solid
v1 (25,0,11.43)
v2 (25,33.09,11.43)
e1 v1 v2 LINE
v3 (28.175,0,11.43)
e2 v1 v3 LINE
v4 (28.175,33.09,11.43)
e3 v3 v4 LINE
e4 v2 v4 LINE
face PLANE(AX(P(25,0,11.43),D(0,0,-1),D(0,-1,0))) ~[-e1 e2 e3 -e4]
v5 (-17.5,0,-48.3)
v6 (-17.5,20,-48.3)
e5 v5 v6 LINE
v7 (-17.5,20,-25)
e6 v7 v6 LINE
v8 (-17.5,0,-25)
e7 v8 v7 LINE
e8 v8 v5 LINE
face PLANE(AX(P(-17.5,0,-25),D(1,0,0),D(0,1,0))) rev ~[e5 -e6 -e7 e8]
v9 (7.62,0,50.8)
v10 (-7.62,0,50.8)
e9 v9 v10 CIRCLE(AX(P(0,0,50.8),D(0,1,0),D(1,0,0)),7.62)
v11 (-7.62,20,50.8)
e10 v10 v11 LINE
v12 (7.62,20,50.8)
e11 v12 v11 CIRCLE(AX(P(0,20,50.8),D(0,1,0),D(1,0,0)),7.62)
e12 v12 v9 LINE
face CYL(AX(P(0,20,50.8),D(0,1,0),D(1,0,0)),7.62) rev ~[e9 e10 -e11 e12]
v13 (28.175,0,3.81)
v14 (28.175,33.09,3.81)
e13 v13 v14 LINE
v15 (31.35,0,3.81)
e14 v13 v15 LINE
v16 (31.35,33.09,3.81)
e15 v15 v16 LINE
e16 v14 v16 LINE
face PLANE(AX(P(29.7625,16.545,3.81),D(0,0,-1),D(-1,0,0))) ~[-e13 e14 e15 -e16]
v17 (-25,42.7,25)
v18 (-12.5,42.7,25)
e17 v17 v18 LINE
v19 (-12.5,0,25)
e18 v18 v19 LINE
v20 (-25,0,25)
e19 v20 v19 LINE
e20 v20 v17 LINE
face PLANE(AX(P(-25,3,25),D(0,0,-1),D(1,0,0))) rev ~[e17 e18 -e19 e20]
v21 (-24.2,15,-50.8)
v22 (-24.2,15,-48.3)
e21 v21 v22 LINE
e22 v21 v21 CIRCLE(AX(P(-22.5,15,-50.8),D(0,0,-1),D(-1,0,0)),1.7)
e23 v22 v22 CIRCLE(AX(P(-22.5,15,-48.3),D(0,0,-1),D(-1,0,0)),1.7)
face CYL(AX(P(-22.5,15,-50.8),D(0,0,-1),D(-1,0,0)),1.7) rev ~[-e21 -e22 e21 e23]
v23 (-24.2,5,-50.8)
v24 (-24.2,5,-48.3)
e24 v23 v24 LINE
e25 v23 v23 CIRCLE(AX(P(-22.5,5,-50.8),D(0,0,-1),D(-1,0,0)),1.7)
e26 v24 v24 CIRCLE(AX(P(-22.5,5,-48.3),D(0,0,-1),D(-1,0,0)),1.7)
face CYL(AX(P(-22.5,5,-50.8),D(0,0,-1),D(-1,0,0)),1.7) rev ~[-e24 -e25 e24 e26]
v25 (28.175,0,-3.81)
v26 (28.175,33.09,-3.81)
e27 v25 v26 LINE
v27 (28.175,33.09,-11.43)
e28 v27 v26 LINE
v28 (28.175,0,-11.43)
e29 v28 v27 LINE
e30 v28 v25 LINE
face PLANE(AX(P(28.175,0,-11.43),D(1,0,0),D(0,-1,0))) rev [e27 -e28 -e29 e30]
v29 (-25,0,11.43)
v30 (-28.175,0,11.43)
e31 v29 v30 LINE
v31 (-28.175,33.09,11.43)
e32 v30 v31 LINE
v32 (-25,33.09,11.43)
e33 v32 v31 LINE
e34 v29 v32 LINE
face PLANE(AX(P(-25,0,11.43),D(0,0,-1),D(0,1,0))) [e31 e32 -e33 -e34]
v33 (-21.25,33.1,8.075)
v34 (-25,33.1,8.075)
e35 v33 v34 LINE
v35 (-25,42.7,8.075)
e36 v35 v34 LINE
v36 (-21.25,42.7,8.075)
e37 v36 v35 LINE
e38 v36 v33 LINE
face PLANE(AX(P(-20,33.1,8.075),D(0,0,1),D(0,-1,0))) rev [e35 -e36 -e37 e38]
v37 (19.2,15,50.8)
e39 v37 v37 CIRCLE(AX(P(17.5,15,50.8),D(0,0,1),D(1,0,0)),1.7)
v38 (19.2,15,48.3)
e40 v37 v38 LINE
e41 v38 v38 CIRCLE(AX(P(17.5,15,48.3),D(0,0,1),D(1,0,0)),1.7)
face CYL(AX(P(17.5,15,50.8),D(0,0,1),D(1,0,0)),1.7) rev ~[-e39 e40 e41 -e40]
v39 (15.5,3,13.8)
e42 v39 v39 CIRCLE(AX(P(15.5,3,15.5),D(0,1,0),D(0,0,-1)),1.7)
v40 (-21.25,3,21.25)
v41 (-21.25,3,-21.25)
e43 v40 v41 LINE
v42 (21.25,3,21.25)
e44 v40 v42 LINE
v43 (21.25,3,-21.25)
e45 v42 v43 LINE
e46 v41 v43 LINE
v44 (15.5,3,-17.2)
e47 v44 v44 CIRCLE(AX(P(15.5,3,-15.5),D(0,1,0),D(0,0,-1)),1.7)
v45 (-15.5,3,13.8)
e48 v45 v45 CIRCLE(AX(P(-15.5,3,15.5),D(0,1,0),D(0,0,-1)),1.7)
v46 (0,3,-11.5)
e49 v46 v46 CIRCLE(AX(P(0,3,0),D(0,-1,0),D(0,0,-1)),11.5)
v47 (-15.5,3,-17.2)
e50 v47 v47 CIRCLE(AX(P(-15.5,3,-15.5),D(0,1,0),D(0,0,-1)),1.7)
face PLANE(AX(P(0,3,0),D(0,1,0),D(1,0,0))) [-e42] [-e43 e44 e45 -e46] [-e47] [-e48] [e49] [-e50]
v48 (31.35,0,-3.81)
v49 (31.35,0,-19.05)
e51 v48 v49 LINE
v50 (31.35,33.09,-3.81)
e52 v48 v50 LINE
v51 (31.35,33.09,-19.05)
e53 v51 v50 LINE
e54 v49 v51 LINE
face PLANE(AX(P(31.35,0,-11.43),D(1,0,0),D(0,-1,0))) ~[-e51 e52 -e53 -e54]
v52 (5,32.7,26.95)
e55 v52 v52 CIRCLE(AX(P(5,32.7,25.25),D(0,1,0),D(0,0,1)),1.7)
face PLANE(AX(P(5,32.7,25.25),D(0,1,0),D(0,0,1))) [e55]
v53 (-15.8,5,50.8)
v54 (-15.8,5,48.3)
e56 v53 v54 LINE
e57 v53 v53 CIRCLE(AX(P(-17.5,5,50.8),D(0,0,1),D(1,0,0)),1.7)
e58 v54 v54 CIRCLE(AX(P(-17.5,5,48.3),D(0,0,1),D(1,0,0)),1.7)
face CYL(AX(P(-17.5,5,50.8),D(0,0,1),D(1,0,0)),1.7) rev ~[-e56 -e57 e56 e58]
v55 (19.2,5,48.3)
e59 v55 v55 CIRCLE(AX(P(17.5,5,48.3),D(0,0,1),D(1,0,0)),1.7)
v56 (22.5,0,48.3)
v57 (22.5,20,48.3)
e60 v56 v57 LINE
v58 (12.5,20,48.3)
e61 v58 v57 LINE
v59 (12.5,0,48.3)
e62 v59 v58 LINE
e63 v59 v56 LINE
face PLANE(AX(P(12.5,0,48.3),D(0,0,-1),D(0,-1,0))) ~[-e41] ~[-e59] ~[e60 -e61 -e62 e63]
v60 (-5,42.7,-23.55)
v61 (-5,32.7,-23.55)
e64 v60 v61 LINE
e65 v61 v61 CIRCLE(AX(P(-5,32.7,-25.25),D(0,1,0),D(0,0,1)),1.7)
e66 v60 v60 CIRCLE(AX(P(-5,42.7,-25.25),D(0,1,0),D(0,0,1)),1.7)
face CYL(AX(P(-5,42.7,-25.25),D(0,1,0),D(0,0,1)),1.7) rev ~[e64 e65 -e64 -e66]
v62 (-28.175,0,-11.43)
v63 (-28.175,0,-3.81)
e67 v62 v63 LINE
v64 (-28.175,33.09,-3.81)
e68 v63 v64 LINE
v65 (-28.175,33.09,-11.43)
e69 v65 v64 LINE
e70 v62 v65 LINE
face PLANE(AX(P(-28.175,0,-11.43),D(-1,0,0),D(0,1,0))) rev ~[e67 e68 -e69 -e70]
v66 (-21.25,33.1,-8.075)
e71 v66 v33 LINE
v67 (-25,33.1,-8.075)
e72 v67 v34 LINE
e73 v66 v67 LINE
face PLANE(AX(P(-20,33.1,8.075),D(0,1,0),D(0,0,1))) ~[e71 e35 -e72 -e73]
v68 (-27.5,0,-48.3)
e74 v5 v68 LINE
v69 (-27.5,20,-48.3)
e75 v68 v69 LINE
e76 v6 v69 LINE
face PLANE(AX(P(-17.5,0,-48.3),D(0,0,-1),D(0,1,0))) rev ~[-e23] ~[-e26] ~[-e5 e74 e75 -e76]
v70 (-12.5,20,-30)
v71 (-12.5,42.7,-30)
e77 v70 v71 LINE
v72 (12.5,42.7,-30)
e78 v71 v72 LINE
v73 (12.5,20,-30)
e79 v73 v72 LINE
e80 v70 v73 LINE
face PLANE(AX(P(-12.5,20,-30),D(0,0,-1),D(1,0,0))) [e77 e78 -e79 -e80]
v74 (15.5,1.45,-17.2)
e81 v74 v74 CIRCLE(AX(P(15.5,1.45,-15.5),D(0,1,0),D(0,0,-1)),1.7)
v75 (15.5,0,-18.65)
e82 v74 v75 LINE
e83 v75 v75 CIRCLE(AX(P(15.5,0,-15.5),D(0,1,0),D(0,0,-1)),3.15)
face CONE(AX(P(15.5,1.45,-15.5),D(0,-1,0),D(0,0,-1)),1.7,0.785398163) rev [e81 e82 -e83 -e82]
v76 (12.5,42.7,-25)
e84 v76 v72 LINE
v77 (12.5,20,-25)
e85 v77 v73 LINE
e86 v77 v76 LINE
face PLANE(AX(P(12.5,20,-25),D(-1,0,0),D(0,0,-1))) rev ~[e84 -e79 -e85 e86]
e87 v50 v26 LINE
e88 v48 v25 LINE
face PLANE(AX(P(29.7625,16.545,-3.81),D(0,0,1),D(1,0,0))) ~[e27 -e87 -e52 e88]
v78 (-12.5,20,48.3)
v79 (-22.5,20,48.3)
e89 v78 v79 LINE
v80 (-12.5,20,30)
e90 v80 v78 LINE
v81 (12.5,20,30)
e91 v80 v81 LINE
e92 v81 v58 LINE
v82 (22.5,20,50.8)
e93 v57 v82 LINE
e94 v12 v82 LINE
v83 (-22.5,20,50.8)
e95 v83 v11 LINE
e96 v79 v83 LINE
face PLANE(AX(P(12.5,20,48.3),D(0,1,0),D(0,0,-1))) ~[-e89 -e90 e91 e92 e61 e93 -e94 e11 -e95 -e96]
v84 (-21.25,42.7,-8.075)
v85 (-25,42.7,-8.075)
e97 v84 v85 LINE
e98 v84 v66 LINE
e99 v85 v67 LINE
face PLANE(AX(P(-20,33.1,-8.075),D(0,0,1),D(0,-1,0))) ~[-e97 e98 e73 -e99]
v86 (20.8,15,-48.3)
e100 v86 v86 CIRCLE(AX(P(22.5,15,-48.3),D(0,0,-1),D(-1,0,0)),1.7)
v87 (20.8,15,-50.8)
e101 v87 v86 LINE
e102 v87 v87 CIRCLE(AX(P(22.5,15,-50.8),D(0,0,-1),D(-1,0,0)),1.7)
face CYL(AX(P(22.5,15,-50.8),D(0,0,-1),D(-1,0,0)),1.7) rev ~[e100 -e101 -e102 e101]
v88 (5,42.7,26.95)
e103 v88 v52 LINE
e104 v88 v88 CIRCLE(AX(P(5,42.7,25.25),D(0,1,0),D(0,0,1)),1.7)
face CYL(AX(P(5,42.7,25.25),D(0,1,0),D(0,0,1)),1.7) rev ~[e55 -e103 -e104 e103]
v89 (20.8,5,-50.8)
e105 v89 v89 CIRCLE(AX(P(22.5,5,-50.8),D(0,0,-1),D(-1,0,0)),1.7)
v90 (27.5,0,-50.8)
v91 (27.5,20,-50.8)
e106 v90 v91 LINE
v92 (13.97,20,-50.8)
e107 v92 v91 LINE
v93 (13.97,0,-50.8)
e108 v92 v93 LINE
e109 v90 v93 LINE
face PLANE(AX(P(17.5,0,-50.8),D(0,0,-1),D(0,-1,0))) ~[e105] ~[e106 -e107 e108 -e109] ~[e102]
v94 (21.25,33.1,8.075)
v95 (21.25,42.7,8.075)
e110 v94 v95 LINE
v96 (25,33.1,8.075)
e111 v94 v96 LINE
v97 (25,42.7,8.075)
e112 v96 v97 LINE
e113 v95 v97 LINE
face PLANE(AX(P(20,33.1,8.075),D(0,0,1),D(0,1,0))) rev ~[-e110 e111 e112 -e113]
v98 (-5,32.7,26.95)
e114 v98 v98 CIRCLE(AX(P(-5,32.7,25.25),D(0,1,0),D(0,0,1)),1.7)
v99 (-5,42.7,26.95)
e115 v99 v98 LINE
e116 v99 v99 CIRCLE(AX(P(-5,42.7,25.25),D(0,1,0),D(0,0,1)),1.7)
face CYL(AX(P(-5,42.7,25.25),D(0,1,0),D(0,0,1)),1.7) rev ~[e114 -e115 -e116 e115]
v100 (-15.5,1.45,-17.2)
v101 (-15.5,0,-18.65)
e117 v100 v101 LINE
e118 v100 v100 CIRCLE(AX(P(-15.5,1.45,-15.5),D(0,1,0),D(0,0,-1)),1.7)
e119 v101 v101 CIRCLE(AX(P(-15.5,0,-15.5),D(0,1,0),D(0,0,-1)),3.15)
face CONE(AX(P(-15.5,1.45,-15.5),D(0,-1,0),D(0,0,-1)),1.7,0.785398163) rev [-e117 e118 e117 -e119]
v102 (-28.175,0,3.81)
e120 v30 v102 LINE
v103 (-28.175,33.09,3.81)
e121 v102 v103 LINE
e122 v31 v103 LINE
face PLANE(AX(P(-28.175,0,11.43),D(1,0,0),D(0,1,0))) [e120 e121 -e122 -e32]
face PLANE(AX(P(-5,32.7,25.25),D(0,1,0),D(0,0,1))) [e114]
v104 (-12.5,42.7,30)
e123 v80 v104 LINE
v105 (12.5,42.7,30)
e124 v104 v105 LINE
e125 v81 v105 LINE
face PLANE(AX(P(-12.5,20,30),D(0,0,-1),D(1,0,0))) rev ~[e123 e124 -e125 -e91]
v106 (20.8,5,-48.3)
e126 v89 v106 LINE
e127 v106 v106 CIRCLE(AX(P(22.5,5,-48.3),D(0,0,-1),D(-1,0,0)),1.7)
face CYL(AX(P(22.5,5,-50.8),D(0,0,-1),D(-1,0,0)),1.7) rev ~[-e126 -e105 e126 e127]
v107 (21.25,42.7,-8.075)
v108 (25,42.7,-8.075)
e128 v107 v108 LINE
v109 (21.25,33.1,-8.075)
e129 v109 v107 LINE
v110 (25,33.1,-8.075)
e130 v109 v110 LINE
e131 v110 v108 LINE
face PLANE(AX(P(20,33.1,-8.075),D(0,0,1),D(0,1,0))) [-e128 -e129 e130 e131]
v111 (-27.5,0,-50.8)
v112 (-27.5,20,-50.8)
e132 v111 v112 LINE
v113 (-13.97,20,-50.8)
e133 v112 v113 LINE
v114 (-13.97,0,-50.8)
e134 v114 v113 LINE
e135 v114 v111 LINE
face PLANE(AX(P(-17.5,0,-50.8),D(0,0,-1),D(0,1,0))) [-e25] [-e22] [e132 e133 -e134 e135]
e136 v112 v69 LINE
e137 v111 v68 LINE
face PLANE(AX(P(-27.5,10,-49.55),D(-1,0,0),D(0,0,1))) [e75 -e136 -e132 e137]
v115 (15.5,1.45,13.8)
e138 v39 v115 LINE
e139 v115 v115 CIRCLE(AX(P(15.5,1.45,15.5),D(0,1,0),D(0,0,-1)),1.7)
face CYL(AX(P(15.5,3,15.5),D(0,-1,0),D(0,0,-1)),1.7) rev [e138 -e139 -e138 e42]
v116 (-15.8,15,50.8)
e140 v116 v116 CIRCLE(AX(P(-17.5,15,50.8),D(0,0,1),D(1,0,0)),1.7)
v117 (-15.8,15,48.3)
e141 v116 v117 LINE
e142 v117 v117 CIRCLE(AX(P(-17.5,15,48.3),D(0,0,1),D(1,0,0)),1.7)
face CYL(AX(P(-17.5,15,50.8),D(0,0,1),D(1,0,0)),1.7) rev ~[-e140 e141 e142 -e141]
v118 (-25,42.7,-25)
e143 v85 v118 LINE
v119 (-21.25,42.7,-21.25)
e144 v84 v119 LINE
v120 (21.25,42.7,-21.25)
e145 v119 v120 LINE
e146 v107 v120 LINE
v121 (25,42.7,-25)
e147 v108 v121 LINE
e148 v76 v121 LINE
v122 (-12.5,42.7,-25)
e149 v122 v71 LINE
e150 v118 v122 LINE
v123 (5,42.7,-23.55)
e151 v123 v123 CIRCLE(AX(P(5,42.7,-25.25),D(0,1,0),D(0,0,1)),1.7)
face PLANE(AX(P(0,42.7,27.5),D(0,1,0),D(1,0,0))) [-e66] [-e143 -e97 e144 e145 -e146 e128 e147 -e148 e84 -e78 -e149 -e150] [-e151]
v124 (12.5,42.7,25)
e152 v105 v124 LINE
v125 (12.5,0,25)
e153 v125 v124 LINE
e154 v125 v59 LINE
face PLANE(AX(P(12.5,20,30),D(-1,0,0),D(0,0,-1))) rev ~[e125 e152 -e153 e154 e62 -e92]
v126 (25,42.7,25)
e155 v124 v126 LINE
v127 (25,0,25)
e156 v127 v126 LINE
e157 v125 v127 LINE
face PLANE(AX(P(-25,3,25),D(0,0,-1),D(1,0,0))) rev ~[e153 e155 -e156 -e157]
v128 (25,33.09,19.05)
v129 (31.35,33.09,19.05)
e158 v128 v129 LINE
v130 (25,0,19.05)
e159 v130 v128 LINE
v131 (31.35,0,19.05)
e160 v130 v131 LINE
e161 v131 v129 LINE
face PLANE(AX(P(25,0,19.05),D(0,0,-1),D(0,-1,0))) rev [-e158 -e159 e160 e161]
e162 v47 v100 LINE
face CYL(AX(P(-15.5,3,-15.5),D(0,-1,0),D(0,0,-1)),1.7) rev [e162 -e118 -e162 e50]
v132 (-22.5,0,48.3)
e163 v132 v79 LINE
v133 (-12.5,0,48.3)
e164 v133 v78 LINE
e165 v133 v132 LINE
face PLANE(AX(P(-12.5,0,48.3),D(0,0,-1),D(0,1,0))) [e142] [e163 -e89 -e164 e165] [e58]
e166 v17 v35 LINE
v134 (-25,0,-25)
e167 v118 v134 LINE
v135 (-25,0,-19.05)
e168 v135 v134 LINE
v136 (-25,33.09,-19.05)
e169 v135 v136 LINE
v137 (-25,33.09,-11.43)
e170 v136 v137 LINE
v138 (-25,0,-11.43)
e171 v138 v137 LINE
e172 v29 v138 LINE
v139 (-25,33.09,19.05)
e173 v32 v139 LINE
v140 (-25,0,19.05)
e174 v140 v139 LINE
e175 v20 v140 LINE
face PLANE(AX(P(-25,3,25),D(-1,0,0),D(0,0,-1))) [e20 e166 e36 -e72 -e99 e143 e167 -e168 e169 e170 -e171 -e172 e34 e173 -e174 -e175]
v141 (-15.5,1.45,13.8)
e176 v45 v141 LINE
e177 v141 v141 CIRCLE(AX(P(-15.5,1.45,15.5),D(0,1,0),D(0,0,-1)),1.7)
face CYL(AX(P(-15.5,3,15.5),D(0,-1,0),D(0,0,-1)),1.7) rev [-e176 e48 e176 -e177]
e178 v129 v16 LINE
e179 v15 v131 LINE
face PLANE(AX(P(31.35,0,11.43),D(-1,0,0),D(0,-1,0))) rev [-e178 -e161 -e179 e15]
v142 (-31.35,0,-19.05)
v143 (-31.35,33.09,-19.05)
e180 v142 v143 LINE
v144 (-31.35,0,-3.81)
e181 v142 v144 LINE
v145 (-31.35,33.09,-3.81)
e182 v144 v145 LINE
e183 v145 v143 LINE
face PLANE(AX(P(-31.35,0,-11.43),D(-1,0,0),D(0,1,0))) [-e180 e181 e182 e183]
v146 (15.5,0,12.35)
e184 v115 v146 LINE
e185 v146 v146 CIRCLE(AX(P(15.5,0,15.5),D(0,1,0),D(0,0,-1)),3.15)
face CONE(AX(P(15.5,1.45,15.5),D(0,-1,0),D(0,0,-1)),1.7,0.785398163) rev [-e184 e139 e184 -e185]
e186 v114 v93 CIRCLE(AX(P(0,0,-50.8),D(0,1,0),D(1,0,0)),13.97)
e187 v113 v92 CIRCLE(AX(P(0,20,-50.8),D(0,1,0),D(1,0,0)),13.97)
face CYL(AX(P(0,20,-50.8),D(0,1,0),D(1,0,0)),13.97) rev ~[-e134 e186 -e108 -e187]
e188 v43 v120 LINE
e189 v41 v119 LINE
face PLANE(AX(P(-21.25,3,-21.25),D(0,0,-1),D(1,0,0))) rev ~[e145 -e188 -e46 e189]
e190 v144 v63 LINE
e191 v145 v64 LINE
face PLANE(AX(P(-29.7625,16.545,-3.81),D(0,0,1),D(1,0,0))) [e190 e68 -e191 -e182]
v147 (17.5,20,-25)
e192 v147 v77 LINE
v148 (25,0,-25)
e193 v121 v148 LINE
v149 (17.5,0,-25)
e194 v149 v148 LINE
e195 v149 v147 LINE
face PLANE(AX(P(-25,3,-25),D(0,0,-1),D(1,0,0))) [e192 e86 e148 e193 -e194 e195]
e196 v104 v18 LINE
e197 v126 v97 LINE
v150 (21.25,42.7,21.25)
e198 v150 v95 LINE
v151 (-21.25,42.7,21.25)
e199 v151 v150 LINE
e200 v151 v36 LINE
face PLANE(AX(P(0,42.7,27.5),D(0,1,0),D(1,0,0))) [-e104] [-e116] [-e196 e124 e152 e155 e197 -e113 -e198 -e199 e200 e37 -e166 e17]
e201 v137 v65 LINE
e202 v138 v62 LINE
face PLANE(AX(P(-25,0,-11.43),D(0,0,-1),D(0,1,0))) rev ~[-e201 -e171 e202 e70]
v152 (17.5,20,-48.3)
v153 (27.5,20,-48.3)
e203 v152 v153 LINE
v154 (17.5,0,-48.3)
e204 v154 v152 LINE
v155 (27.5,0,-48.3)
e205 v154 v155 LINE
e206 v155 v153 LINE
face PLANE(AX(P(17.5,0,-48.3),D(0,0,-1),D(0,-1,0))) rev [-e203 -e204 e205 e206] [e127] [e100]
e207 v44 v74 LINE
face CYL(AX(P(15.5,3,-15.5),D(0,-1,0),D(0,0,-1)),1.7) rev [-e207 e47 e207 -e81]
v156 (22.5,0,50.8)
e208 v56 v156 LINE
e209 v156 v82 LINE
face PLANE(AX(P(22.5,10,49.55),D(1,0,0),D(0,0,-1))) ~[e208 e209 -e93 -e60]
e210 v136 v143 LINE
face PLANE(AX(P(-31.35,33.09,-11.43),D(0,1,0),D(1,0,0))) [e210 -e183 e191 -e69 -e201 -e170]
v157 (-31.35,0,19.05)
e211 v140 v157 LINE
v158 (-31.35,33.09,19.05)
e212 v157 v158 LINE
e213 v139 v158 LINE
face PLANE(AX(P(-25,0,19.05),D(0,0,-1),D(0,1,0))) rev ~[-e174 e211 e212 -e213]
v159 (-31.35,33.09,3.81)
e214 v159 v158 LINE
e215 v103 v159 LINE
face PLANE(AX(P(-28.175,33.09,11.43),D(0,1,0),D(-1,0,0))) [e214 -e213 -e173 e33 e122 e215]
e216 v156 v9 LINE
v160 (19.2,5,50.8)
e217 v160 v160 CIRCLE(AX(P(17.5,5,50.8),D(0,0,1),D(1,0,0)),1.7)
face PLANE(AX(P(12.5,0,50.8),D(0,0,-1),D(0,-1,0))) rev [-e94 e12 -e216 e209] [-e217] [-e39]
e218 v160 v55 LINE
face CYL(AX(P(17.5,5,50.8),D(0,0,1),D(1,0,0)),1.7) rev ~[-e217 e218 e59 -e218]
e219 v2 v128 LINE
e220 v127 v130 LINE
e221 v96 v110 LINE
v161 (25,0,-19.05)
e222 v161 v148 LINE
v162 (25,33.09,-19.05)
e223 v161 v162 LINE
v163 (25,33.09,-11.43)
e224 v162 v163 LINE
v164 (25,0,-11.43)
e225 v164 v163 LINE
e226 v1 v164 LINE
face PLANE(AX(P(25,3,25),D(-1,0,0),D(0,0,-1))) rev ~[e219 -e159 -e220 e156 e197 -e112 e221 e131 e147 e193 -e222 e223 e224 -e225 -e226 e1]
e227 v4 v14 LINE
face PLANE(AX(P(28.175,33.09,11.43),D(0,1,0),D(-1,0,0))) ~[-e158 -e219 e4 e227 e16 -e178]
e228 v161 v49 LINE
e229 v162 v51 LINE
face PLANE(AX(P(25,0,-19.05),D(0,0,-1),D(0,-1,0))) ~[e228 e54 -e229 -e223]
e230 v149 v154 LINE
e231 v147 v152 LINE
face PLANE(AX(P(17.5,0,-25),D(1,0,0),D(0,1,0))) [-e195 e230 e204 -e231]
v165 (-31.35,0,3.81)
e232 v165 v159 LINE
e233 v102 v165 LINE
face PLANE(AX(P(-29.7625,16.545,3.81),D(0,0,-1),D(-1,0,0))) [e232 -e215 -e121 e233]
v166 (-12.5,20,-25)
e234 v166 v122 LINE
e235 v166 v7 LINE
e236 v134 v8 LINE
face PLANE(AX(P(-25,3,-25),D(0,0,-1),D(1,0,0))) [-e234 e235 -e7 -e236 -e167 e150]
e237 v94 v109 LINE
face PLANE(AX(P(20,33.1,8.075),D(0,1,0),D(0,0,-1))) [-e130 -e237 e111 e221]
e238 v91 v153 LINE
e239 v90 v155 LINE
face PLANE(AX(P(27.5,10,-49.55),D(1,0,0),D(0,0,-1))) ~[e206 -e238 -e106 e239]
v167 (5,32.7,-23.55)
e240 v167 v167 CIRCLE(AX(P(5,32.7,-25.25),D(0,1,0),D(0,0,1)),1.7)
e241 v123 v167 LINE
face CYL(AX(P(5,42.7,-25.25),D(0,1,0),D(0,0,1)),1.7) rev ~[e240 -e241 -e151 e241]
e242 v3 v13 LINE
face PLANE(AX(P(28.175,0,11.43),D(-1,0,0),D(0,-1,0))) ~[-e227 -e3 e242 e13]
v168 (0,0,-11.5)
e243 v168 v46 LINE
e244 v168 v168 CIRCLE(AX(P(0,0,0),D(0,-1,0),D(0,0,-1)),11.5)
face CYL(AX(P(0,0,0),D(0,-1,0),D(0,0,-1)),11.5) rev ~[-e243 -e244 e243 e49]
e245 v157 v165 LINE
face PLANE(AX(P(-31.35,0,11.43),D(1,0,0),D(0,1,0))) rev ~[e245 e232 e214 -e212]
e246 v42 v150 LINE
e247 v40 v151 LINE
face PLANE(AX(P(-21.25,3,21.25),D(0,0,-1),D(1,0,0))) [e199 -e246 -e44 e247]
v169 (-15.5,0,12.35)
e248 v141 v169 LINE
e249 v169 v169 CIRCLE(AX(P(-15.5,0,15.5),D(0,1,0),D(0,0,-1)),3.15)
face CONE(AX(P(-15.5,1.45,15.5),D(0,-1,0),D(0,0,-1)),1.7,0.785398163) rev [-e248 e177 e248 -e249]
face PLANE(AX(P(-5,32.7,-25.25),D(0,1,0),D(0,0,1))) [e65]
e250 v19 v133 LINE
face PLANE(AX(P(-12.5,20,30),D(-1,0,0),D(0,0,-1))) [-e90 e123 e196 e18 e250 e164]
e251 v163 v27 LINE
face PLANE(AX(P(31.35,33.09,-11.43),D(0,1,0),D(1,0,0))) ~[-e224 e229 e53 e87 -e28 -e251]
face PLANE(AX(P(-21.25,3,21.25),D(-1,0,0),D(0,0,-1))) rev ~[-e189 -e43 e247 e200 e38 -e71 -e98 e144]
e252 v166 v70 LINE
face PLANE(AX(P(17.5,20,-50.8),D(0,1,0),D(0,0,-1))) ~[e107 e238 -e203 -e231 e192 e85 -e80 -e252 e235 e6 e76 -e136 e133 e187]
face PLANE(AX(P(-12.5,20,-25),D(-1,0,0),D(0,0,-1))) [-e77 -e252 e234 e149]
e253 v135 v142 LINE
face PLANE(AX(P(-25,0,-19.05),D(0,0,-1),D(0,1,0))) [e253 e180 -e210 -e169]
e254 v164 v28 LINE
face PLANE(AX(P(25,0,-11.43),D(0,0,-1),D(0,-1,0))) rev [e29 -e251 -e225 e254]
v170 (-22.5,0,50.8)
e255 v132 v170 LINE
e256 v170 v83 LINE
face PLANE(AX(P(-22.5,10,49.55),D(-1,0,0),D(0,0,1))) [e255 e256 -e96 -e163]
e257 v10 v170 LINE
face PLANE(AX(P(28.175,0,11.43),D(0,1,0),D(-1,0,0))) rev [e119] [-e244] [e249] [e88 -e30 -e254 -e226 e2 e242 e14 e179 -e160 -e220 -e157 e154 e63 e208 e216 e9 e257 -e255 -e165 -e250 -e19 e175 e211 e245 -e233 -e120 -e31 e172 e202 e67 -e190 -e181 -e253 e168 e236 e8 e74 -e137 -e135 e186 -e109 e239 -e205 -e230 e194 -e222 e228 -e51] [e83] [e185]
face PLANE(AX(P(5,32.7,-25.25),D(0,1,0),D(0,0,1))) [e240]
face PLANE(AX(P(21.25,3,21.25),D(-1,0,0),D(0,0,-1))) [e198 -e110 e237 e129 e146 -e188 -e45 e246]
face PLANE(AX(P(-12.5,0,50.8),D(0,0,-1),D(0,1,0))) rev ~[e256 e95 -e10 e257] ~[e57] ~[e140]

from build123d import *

# Parameters (mm, degrees)
SKETCH1_W                                    = 50
SKETCH1_H                                    = 50
BOSS_EXTRUDE1_DEPTH                          = 3
SKETCH3_W                                    = 50
SKETCH3_H                                    = 50
SKETCH3_W_2                                  = 42.5
SKETCH3_H_2                                  = 42.5
BOSS_EXTRUDE2_DEPTH                          = 39.7
SKETCH9_W                                    = 25
SKETCH9_H                                    = 20
BOSS_EXTRUDE4_DEPTH                          = 25.8
CUT_EXTRUDE1_REACH                           = 62.999
SKETCH11_R                                   = 7.62
SKETCH12_W                                   = 2.5
SKETCH12_H                                   = 20
BOSS_EXTRUDE5_DEPTH                          = 10
CUT_EXTRUDE2_REACH                           = 92.52
SKETCH13_R                                   = 1.7
SKETCH15_W                                   = 35
SKETCH15_H                                   = 20
BOSS_EXTRUDE6_DEPTH                          = 25.8
CUT_EXTRUDE3_REACH                           = 62.999
SKETCH16_R                                   = 13.97
SKETCH17_W                                   = 2.5
SKETCH17_H                                   = 20
BOSS_EXTRUDE7_DEPTH                          = 10
CUT_EXTRUDE4_REACH                           = 115.587
SKETCH18_R                                   = 1.7
CUT_EXTRUDE5_START                           = -5
SKETCH19_W                                   = 16.15
SKETCH19_H                                   = 9.6
CUT_EXTRUDE5_DEPTH                           = 90.617846817
SKETCH20_W                                   = 25
SKETCH20_H                                   = 5
BOSS_EXTRUDE8_DEPTH                          = 22.7
SKETCH21_R                                   = 1.7
CUT_EXTRUDE6_DEPTH                           = 10
SKETCH23_W                                   = 7.62
SKETCH23_H                                   = 33.09
BOSS_EXTRUDE9_DEPTH                          = 6.35
SKETCH24_W                                   = 3.175
SKETCH24_H                                   = 33.09
BOSS_EXTRUDE10_DEPTH                         = 7.62
SKETCH25_W                                   = 3.175
SKETCH25_H                                   = 33.09
BOSS_EXTRUDE11_DEPTH                         = 7.62
CUT_EXTRUDE8_REACH                           = 75.394
SKETCH27_R                                   = 11.5
CSK_FOR_M3_COUNTERSUNK_FLAT_HEAD_SCR_2_COUNT = 2
CSK_FOR_M3_COUNTERSUNK_FLAT_HEAD_SCR_2_PITCH = 31
CSK_FOR_M3_COUNTERSUNK_FLAT_HEAD_SCR_3_COUNT = 2
CSK_FOR_M3_COUNTERSUNK_FLAT_HEAD_SCR_3_PITCH = 43.840620434
CSK_FOR_M3_COUNTERSUNK_FLAT_HEAD_SCR_4_COUNT = 2
CSK_FOR_M3_COUNTERSUNK_FLAT_HEAD_SCR_4_PITCH = 31


with BuildPart() as part:
    # Sketch1 → Boss-Extrude1 (new body)
    with BuildSketch(Plane(origin=(0, 0, 0), x_dir=(1, 0, 0), z_dir=(0, 1, 0))):
        Rectangle(SKETCH1_W, SKETCH1_H)
    extrude(amount=BOSS_EXTRUDE1_DEPTH)

    # Sketch3 → Boss-Extrude2 (add)
    with BuildSketch(Plane(origin=(0, 3, 0), x_dir=(1, 0, 0), z_dir=(0, 1, 0))):
        Rectangle(SKETCH3_W, SKETCH3_H)
        Rectangle(SKETCH3_W_2, SKETCH3_H_2, mode=Mode.SUBTRACT)
    extrude(amount=BOSS_EXTRUDE2_DEPTH)

    # Sketch9 → Boss-Extrude4 (add)
    with BuildSketch(Plane.XY.offset(25)):
        with Locations((0, 10)):
            Rectangle(SKETCH9_W, SKETCH9_H)
    extrude(amount=BOSS_EXTRUDE4_DEPTH)

    # Sketch11 → Cut-Extrude1 (cut, up to next)
    with BuildSketch(Plane(origin=(0, 20, 0), x_dir=(1, 0, 0), z_dir=(0, 1, 0)), mode=Mode.PRIVATE) as cut_extrude1_sk1:
        with Locations((0, -50.8)):
            Circle(SKETCH11_R)
    cut_extrude1_tool1 = extrude(cut_extrude1_sk1.sketch, amount=-CUT_EXTRUDE1_REACH, mode=Mode.PRIVATE) & part.part
    add(cut_extrude1_tool1.solids().sort_by_distance((0, 20, 50.8))[0], mode=Mode.SUBTRACT)

    # Sketch12 → Boss-Extrude5 (add)
    with BuildSketch(Plane.ZY.offset(12.5)):
        with Locations((49.55, 10)):
            Rectangle(SKETCH12_W, SKETCH12_H)
    boss_extrude5 = extrude(amount=BOSS_EXTRUDE5_DEPTH)

    # Mirror2: Boss-Extrude5 across plane
    add(boss_extrude5.mirror(Plane(origin=(0, 0, 0), x_dir=(0, 0, 1), z_dir=(1, 0, 0))))

    # Sketch13 → Cut-Extrude2 (cut, up to next)
    with BuildSketch(Plane.XY.offset(50.8), mode=Mode.PRIVATE) as cut_extrude2_sk1:
        with Locations((-17.5, 5)):
            Circle(SKETCH13_R)
    cut_extrude2_tool1 = extrude(cut_extrude2_sk1.sketch, amount=-CUT_EXTRUDE2_REACH, mode=Mode.PRIVATE) & part.part
    # Sketch13 → Cut-Extrude2 (cut, up to next)
    with BuildSketch(Plane.XY.offset(50.8), mode=Mode.PRIVATE) as cut_extrude2_sk2:
        with Locations((17.5, 5)):
            Circle(SKETCH13_R)
    cut_extrude2_tool2 = extrude(cut_extrude2_sk2.sketch, amount=-CUT_EXTRUDE2_REACH, mode=Mode.PRIVATE) & part.part
    # Sketch13 → Cut-Extrude2 (cut, up to next)
    with BuildSketch(Plane.XY.offset(50.8), mode=Mode.PRIVATE) as cut_extrude2_sk3:
        with Locations((-17.5, 15)):
            Circle(SKETCH13_R)
    cut_extrude2_tool3 = extrude(cut_extrude2_sk3.sketch, amount=-CUT_EXTRUDE2_REACH, mode=Mode.PRIVATE) & part.part
    # Sketch13 → Cut-Extrude2 (cut, up to next)
    with BuildSketch(Plane.XY.offset(50.8), mode=Mode.PRIVATE) as cut_extrude2_sk4:
        with Locations((17.5, 15)):
            Circle(SKETCH13_R)
    cut_extrude2_tool4 = extrude(cut_extrude2_sk4.sketch, amount=-CUT_EXTRUDE2_REACH, mode=Mode.PRIVATE) & part.part
    add(cut_extrude2_tool1.solids().sort_by_distance((-17.5, 5, 50.8))[0], mode=Mode.SUBTRACT)
    add(cut_extrude2_tool2.solids().sort_by_distance((17.5, 5, 50.8))[0], mode=Mode.SUBTRACT)
    add(cut_extrude2_tool3.solids().sort_by_distance((-17.5, 15, 50.8))[0], mode=Mode.SUBTRACT)
    add(cut_extrude2_tool4.solids().sort_by_distance((17.5, 15, 50.8))[0], mode=Mode.SUBTRACT)

    # Sketch15 → Boss-Extrude6 (add)
    with BuildSketch(Plane(origin=(0, 0, -25), x_dir=(-1, 0, 0), z_dir=(0, 0, -1))):
        with Locations((0, 10)):
            Rectangle(SKETCH15_W, SKETCH15_H)
    extrude(amount=BOSS_EXTRUDE6_DEPTH)

    # Sketch16 → Cut-Extrude3 (cut, up to next)
    with BuildSketch(Plane(origin=(0, 20, 0), x_dir=(1, 0, 0), z_dir=(0, 1, 0)), mode=Mode.PRIVATE) as cut_extrude3_sk1:
        with Locations((0, 50.8)):
            Circle(SKETCH16_R)
    cut_extrude3_tool1 = extrude(cut_extrude3_sk1.sketch, amount=-CUT_EXTRUDE3_REACH, mode=Mode.PRIVATE) & part.part
    add(cut_extrude3_tool1.solids().sort_by_distance((0, 20, -50.8))[0], mode=Mode.SUBTRACT)

    # Sketch17 → Boss-Extrude7 (add)
    with BuildSketch(Plane.ZY.offset(17.5)):
        with Locations((-49.55, 10)):
            Rectangle(SKETCH17_W, SKETCH17_H)
    boss_extrude7 = extrude(amount=BOSS_EXTRUDE7_DEPTH)

    # Mirror3: Boss-Extrude7 across plane
    add(boss_extrude7.mirror(Plane(origin=(0, 0, 0), x_dir=(0, 0, 1), z_dir=(1, 0, 0))))

    # Sketch18 → Cut-Extrude4 (cut, up to next)
    with BuildSketch(Plane(origin=(0, 0, -50.8), x_dir=(-1, 0, 0), z_dir=(0, 0, -1)), mode=Mode.PRIVATE) as cut_extrude4_sk1:
        with Locations((-22.5, 15)):
            Circle(SKETCH18_R)
    cut_extrude4_tool1 = extrude(cut_extrude4_sk1.sketch, amount=-CUT_EXTRUDE4_REACH, mode=Mode.PRIVATE) & part.part
    # Sketch18 → Cut-Extrude4 (cut, up to next)
    with BuildSketch(Plane(origin=(0, 0, -50.8), x_dir=(-1, 0, 0), z_dir=(0, 0, -1)), mode=Mode.PRIVATE) as cut_extrude4_sk2:
        with Locations((-22.5, 5)):
            Circle(SKETCH18_R)
    cut_extrude4_tool2 = extrude(cut_extrude4_sk2.sketch, amount=-CUT_EXTRUDE4_REACH, mode=Mode.PRIVATE) & part.part
    # Sketch18 → Cut-Extrude4 (cut, up to next)
    with BuildSketch(Plane(origin=(0, 0, -50.8), x_dir=(-1, 0, 0), z_dir=(0, 0, -1)), mode=Mode.PRIVATE) as cut_extrude4_sk3:
        with Locations((22.5, 15)):
            Circle(SKETCH18_R)
    cut_extrude4_tool3 = extrude(cut_extrude4_sk3.sketch, amount=-CUT_EXTRUDE4_REACH, mode=Mode.PRIVATE) & part.part
    # Sketch18 → Cut-Extrude4 (cut, up to next)
    with BuildSketch(Plane(origin=(0, 0, -50.8), x_dir=(-1, 0, 0), z_dir=(0, 0, -1)), mode=Mode.PRIVATE) as cut_extrude4_sk4:
        with Locations((22.5, 5)):
            Circle(SKETCH18_R)
    cut_extrude4_tool4 = extrude(cut_extrude4_sk4.sketch, amount=-CUT_EXTRUDE4_REACH, mode=Mode.PRIVATE) & part.part
    add(cut_extrude4_tool1.solids().sort_by_distance((22.5, 15, -50.8))[0], mode=Mode.SUBTRACT)
    add(cut_extrude4_tool2.solids().sort_by_distance((22.5, 5, -50.8))[0], mode=Mode.SUBTRACT)
    add(cut_extrude4_tool3.solids().sort_by_distance((-22.5, 15, -50.8))[0], mode=Mode.SUBTRACT)
    add(cut_extrude4_tool4.solids().sort_by_distance((-22.5, 5, -50.8))[0], mode=Mode.SUBTRACT)

    # Sketch19 → Cut-Extrude5 (cut)
    with BuildSketch(Plane(origin=(25, 0, 0), x_dir=(0, 0, -1), z_dir=(1, 0, 0)).offset(CUT_EXTRUDE5_START)):
        with Locations((0, 37.9)):
            Rectangle(SKETCH19_W, SKETCH19_H)
    cut_extrude5 = extrude(amount=CUT_EXTRUDE5_DEPTH, mode=Mode.SUBTRACT)

    # Sketch20 → Boss-Extrude8 (add)
    with BuildSketch(Plane(origin=(0, 20, 0), x_dir=(1, 0, 0), z_dir=(0, 1, 0))):
        with Locations((0, -27.5)):
            Rectangle(SKETCH20_W, SKETCH20_H)
        with Locations((0, 27.5)):
            Rectangle(SKETCH20_W, SKETCH20_H)
    extrude(amount=BOSS_EXTRUDE8_DEPTH)

    # Sketch21 → Cut-Extrude6 (cut)
    with BuildSketch(Plane(origin=(0, 42.7, 0), x_dir=(1, 0, 0), z_dir=(0, 1, 0))):
        with Locations(Location((5, -25.25, 0), (0, 0, 270))):
            Circle(SKETCH21_R)
        with Locations(Location((-5, 25.25, 0), (0, 0, 270))):
            Circle(SKETCH21_R)
        with Locations(Location((5, 25.25, 0), (0, 0, 270))):
            Circle(SKETCH21_R)
        with Locations(Location((-5, -25.25, 0), (0, 0, 270))):
            Circle(SKETCH21_R)
    extrude(amount=-CUT_EXTRUDE6_DEPTH, mode=Mode.SUBTRACT)

    # Sketch23 → Boss-Extrude9 (add)
    with BuildSketch(Plane.ZY.offset(25)):
        with Locations((-15.24, 16.545)):
            Rectangle(SKETCH23_W, SKETCH23_H)
        with Locations((15.24, 16.545)):
            Rectangle(SKETCH23_W, SKETCH23_H)
    boss_extrude9 = extrude(amount=BOSS_EXTRUDE9_DEPTH)

    # Sketch24 → Boss-Extrude10 (add)
    with BuildSketch(Plane.XY.offset(-11.43)):
        with Locations((-29.7625, 16.545)):
            Rectangle(SKETCH24_W, SKETCH24_H)
    boss_extrude10 = extrude(amount=BOSS_EXTRUDE10_DEPTH)

    # Sketch25 → Boss-Extrude11 (add)
    with BuildSketch(Plane(origin=(0, 0, 11.43), x_dir=(-1, 0, 0), z_dir=(0, 0, -1))):
        with Locations((29.7625, 16.545)):
            Rectangle(SKETCH25_W, SKETCH25_H)
    boss_extrude11 = extrude(amount=BOSS_EXTRUDE11_DEPTH)

    # Sketch27 → Cut-Extrude8 (cut, up to next)
    with BuildSketch(Plane.XZ, mode=Mode.PRIVATE) as cut_extrude8_sk1:
        with Locations(Location((0, 0, 0), (0, 0, 270))):
            Circle(SKETCH27_R)
    cut_extrude8_tool1 = extrude(cut_extrude8_sk1.sketch, amount=-CUT_EXTRUDE8_REACH, mode=Mode.PRIVATE) & part.part
    add(cut_extrude8_tool1.solids().sort_by_distance((0, 0, 0))[0], mode=Mode.SUBTRACT)

    # Sketch30 → CSK for M3 Countersunk Flat Head Screw1 (revolve, cut)
    with BuildSketch(Plane(origin=(-15.5, 0, 15.5), x_dir=(0, 0, -1), z_dir=(1, 0, 0))):
        Polygon((0, 0), (0, 3), (1.7, 3), (1.7, 1.45), (3.15, 0), align=None)
    csk_for_m3_countersunk_flat_head_screw1 = revolve(axis=Axis((-15.5, -6.35, 15.5), (0, 1, 0)), mode=Mode.SUBTRACT)

    # CSK for M3 Countersunk Flat Head Scr 2: CSK for M3 Countersunk Flat Head Screw1 ×2
    with Locations(*[(i * CSK_FOR_M3_COUNTERSUNK_FLAT_HEAD_SCR_2_PITCH, 0, 0) for i in range(1, CSK_FOR_M3_COUNTERSUNK_FLAT_HEAD_SCR_2_COUNT)]):
        add(csk_for_m3_countersunk_flat_head_screw1, mode=Mode.SUBTRACT)

    # CSK for M3 Countersunk Flat Head Scr 3: CSK for M3 Countersunk Flat Head Screw1 ×2
    with Locations(*[Vector(0.7071067811865475, 0, -0.7071067811865476) * (i * CSK_FOR_M3_COUNTERSUNK_FLAT_HEAD_SCR_3_PITCH) for i in range(1, CSK_FOR_M3_COUNTERSUNK_FLAT_HEAD_SCR_3_COUNT)]):
        add(csk_for_m3_countersunk_flat_head_screw1, mode=Mode.SUBTRACT)

    # CSK for M3 Countersunk Flat Head Scr 4: CSK for M3 Countersunk Flat Head Screw1 ×2
    with Locations(*[(0, 0, -i * CSK_FOR_M3_COUNTERSUNK_FLAT_HEAD_SCR_4_PITCH) for i in range(1, CSK_FOR_M3_COUNTERSUNK_FLAT_HEAD_SCR_4_COUNT)]):
        add(csk_for_m3_countersunk_flat_head_screw1, mode=Mode.SUBTRACT)

    # Mirror4: Cut-Extrude5, Boss-Extrude9, Boss-Extrude10, Boss-Extrude11 across plane
    add(cut_extrude5.mirror(Plane(origin=(0, 0, 0), x_dir=(0, 0, 1), z_dir=(1, 0, 0))), mode=Mode.SUBTRACT)
    add(boss_extrude9.mirror(Plane(origin=(0, 0, 0), x_dir=(0, 0, 1), z_dir=(1, 0, 0))))
    add(boss_extrude10.mirror(Plane(origin=(0, 0, 0), x_dir=(0, 0, 1), z_dir=(1, 0, 0))))
    add(boss_extrude11.mirror(Plane(origin=(0, 0, 0), x_dir=(0, 0, 1), z_dir=(1, 0, 0))))


solid = part.part
